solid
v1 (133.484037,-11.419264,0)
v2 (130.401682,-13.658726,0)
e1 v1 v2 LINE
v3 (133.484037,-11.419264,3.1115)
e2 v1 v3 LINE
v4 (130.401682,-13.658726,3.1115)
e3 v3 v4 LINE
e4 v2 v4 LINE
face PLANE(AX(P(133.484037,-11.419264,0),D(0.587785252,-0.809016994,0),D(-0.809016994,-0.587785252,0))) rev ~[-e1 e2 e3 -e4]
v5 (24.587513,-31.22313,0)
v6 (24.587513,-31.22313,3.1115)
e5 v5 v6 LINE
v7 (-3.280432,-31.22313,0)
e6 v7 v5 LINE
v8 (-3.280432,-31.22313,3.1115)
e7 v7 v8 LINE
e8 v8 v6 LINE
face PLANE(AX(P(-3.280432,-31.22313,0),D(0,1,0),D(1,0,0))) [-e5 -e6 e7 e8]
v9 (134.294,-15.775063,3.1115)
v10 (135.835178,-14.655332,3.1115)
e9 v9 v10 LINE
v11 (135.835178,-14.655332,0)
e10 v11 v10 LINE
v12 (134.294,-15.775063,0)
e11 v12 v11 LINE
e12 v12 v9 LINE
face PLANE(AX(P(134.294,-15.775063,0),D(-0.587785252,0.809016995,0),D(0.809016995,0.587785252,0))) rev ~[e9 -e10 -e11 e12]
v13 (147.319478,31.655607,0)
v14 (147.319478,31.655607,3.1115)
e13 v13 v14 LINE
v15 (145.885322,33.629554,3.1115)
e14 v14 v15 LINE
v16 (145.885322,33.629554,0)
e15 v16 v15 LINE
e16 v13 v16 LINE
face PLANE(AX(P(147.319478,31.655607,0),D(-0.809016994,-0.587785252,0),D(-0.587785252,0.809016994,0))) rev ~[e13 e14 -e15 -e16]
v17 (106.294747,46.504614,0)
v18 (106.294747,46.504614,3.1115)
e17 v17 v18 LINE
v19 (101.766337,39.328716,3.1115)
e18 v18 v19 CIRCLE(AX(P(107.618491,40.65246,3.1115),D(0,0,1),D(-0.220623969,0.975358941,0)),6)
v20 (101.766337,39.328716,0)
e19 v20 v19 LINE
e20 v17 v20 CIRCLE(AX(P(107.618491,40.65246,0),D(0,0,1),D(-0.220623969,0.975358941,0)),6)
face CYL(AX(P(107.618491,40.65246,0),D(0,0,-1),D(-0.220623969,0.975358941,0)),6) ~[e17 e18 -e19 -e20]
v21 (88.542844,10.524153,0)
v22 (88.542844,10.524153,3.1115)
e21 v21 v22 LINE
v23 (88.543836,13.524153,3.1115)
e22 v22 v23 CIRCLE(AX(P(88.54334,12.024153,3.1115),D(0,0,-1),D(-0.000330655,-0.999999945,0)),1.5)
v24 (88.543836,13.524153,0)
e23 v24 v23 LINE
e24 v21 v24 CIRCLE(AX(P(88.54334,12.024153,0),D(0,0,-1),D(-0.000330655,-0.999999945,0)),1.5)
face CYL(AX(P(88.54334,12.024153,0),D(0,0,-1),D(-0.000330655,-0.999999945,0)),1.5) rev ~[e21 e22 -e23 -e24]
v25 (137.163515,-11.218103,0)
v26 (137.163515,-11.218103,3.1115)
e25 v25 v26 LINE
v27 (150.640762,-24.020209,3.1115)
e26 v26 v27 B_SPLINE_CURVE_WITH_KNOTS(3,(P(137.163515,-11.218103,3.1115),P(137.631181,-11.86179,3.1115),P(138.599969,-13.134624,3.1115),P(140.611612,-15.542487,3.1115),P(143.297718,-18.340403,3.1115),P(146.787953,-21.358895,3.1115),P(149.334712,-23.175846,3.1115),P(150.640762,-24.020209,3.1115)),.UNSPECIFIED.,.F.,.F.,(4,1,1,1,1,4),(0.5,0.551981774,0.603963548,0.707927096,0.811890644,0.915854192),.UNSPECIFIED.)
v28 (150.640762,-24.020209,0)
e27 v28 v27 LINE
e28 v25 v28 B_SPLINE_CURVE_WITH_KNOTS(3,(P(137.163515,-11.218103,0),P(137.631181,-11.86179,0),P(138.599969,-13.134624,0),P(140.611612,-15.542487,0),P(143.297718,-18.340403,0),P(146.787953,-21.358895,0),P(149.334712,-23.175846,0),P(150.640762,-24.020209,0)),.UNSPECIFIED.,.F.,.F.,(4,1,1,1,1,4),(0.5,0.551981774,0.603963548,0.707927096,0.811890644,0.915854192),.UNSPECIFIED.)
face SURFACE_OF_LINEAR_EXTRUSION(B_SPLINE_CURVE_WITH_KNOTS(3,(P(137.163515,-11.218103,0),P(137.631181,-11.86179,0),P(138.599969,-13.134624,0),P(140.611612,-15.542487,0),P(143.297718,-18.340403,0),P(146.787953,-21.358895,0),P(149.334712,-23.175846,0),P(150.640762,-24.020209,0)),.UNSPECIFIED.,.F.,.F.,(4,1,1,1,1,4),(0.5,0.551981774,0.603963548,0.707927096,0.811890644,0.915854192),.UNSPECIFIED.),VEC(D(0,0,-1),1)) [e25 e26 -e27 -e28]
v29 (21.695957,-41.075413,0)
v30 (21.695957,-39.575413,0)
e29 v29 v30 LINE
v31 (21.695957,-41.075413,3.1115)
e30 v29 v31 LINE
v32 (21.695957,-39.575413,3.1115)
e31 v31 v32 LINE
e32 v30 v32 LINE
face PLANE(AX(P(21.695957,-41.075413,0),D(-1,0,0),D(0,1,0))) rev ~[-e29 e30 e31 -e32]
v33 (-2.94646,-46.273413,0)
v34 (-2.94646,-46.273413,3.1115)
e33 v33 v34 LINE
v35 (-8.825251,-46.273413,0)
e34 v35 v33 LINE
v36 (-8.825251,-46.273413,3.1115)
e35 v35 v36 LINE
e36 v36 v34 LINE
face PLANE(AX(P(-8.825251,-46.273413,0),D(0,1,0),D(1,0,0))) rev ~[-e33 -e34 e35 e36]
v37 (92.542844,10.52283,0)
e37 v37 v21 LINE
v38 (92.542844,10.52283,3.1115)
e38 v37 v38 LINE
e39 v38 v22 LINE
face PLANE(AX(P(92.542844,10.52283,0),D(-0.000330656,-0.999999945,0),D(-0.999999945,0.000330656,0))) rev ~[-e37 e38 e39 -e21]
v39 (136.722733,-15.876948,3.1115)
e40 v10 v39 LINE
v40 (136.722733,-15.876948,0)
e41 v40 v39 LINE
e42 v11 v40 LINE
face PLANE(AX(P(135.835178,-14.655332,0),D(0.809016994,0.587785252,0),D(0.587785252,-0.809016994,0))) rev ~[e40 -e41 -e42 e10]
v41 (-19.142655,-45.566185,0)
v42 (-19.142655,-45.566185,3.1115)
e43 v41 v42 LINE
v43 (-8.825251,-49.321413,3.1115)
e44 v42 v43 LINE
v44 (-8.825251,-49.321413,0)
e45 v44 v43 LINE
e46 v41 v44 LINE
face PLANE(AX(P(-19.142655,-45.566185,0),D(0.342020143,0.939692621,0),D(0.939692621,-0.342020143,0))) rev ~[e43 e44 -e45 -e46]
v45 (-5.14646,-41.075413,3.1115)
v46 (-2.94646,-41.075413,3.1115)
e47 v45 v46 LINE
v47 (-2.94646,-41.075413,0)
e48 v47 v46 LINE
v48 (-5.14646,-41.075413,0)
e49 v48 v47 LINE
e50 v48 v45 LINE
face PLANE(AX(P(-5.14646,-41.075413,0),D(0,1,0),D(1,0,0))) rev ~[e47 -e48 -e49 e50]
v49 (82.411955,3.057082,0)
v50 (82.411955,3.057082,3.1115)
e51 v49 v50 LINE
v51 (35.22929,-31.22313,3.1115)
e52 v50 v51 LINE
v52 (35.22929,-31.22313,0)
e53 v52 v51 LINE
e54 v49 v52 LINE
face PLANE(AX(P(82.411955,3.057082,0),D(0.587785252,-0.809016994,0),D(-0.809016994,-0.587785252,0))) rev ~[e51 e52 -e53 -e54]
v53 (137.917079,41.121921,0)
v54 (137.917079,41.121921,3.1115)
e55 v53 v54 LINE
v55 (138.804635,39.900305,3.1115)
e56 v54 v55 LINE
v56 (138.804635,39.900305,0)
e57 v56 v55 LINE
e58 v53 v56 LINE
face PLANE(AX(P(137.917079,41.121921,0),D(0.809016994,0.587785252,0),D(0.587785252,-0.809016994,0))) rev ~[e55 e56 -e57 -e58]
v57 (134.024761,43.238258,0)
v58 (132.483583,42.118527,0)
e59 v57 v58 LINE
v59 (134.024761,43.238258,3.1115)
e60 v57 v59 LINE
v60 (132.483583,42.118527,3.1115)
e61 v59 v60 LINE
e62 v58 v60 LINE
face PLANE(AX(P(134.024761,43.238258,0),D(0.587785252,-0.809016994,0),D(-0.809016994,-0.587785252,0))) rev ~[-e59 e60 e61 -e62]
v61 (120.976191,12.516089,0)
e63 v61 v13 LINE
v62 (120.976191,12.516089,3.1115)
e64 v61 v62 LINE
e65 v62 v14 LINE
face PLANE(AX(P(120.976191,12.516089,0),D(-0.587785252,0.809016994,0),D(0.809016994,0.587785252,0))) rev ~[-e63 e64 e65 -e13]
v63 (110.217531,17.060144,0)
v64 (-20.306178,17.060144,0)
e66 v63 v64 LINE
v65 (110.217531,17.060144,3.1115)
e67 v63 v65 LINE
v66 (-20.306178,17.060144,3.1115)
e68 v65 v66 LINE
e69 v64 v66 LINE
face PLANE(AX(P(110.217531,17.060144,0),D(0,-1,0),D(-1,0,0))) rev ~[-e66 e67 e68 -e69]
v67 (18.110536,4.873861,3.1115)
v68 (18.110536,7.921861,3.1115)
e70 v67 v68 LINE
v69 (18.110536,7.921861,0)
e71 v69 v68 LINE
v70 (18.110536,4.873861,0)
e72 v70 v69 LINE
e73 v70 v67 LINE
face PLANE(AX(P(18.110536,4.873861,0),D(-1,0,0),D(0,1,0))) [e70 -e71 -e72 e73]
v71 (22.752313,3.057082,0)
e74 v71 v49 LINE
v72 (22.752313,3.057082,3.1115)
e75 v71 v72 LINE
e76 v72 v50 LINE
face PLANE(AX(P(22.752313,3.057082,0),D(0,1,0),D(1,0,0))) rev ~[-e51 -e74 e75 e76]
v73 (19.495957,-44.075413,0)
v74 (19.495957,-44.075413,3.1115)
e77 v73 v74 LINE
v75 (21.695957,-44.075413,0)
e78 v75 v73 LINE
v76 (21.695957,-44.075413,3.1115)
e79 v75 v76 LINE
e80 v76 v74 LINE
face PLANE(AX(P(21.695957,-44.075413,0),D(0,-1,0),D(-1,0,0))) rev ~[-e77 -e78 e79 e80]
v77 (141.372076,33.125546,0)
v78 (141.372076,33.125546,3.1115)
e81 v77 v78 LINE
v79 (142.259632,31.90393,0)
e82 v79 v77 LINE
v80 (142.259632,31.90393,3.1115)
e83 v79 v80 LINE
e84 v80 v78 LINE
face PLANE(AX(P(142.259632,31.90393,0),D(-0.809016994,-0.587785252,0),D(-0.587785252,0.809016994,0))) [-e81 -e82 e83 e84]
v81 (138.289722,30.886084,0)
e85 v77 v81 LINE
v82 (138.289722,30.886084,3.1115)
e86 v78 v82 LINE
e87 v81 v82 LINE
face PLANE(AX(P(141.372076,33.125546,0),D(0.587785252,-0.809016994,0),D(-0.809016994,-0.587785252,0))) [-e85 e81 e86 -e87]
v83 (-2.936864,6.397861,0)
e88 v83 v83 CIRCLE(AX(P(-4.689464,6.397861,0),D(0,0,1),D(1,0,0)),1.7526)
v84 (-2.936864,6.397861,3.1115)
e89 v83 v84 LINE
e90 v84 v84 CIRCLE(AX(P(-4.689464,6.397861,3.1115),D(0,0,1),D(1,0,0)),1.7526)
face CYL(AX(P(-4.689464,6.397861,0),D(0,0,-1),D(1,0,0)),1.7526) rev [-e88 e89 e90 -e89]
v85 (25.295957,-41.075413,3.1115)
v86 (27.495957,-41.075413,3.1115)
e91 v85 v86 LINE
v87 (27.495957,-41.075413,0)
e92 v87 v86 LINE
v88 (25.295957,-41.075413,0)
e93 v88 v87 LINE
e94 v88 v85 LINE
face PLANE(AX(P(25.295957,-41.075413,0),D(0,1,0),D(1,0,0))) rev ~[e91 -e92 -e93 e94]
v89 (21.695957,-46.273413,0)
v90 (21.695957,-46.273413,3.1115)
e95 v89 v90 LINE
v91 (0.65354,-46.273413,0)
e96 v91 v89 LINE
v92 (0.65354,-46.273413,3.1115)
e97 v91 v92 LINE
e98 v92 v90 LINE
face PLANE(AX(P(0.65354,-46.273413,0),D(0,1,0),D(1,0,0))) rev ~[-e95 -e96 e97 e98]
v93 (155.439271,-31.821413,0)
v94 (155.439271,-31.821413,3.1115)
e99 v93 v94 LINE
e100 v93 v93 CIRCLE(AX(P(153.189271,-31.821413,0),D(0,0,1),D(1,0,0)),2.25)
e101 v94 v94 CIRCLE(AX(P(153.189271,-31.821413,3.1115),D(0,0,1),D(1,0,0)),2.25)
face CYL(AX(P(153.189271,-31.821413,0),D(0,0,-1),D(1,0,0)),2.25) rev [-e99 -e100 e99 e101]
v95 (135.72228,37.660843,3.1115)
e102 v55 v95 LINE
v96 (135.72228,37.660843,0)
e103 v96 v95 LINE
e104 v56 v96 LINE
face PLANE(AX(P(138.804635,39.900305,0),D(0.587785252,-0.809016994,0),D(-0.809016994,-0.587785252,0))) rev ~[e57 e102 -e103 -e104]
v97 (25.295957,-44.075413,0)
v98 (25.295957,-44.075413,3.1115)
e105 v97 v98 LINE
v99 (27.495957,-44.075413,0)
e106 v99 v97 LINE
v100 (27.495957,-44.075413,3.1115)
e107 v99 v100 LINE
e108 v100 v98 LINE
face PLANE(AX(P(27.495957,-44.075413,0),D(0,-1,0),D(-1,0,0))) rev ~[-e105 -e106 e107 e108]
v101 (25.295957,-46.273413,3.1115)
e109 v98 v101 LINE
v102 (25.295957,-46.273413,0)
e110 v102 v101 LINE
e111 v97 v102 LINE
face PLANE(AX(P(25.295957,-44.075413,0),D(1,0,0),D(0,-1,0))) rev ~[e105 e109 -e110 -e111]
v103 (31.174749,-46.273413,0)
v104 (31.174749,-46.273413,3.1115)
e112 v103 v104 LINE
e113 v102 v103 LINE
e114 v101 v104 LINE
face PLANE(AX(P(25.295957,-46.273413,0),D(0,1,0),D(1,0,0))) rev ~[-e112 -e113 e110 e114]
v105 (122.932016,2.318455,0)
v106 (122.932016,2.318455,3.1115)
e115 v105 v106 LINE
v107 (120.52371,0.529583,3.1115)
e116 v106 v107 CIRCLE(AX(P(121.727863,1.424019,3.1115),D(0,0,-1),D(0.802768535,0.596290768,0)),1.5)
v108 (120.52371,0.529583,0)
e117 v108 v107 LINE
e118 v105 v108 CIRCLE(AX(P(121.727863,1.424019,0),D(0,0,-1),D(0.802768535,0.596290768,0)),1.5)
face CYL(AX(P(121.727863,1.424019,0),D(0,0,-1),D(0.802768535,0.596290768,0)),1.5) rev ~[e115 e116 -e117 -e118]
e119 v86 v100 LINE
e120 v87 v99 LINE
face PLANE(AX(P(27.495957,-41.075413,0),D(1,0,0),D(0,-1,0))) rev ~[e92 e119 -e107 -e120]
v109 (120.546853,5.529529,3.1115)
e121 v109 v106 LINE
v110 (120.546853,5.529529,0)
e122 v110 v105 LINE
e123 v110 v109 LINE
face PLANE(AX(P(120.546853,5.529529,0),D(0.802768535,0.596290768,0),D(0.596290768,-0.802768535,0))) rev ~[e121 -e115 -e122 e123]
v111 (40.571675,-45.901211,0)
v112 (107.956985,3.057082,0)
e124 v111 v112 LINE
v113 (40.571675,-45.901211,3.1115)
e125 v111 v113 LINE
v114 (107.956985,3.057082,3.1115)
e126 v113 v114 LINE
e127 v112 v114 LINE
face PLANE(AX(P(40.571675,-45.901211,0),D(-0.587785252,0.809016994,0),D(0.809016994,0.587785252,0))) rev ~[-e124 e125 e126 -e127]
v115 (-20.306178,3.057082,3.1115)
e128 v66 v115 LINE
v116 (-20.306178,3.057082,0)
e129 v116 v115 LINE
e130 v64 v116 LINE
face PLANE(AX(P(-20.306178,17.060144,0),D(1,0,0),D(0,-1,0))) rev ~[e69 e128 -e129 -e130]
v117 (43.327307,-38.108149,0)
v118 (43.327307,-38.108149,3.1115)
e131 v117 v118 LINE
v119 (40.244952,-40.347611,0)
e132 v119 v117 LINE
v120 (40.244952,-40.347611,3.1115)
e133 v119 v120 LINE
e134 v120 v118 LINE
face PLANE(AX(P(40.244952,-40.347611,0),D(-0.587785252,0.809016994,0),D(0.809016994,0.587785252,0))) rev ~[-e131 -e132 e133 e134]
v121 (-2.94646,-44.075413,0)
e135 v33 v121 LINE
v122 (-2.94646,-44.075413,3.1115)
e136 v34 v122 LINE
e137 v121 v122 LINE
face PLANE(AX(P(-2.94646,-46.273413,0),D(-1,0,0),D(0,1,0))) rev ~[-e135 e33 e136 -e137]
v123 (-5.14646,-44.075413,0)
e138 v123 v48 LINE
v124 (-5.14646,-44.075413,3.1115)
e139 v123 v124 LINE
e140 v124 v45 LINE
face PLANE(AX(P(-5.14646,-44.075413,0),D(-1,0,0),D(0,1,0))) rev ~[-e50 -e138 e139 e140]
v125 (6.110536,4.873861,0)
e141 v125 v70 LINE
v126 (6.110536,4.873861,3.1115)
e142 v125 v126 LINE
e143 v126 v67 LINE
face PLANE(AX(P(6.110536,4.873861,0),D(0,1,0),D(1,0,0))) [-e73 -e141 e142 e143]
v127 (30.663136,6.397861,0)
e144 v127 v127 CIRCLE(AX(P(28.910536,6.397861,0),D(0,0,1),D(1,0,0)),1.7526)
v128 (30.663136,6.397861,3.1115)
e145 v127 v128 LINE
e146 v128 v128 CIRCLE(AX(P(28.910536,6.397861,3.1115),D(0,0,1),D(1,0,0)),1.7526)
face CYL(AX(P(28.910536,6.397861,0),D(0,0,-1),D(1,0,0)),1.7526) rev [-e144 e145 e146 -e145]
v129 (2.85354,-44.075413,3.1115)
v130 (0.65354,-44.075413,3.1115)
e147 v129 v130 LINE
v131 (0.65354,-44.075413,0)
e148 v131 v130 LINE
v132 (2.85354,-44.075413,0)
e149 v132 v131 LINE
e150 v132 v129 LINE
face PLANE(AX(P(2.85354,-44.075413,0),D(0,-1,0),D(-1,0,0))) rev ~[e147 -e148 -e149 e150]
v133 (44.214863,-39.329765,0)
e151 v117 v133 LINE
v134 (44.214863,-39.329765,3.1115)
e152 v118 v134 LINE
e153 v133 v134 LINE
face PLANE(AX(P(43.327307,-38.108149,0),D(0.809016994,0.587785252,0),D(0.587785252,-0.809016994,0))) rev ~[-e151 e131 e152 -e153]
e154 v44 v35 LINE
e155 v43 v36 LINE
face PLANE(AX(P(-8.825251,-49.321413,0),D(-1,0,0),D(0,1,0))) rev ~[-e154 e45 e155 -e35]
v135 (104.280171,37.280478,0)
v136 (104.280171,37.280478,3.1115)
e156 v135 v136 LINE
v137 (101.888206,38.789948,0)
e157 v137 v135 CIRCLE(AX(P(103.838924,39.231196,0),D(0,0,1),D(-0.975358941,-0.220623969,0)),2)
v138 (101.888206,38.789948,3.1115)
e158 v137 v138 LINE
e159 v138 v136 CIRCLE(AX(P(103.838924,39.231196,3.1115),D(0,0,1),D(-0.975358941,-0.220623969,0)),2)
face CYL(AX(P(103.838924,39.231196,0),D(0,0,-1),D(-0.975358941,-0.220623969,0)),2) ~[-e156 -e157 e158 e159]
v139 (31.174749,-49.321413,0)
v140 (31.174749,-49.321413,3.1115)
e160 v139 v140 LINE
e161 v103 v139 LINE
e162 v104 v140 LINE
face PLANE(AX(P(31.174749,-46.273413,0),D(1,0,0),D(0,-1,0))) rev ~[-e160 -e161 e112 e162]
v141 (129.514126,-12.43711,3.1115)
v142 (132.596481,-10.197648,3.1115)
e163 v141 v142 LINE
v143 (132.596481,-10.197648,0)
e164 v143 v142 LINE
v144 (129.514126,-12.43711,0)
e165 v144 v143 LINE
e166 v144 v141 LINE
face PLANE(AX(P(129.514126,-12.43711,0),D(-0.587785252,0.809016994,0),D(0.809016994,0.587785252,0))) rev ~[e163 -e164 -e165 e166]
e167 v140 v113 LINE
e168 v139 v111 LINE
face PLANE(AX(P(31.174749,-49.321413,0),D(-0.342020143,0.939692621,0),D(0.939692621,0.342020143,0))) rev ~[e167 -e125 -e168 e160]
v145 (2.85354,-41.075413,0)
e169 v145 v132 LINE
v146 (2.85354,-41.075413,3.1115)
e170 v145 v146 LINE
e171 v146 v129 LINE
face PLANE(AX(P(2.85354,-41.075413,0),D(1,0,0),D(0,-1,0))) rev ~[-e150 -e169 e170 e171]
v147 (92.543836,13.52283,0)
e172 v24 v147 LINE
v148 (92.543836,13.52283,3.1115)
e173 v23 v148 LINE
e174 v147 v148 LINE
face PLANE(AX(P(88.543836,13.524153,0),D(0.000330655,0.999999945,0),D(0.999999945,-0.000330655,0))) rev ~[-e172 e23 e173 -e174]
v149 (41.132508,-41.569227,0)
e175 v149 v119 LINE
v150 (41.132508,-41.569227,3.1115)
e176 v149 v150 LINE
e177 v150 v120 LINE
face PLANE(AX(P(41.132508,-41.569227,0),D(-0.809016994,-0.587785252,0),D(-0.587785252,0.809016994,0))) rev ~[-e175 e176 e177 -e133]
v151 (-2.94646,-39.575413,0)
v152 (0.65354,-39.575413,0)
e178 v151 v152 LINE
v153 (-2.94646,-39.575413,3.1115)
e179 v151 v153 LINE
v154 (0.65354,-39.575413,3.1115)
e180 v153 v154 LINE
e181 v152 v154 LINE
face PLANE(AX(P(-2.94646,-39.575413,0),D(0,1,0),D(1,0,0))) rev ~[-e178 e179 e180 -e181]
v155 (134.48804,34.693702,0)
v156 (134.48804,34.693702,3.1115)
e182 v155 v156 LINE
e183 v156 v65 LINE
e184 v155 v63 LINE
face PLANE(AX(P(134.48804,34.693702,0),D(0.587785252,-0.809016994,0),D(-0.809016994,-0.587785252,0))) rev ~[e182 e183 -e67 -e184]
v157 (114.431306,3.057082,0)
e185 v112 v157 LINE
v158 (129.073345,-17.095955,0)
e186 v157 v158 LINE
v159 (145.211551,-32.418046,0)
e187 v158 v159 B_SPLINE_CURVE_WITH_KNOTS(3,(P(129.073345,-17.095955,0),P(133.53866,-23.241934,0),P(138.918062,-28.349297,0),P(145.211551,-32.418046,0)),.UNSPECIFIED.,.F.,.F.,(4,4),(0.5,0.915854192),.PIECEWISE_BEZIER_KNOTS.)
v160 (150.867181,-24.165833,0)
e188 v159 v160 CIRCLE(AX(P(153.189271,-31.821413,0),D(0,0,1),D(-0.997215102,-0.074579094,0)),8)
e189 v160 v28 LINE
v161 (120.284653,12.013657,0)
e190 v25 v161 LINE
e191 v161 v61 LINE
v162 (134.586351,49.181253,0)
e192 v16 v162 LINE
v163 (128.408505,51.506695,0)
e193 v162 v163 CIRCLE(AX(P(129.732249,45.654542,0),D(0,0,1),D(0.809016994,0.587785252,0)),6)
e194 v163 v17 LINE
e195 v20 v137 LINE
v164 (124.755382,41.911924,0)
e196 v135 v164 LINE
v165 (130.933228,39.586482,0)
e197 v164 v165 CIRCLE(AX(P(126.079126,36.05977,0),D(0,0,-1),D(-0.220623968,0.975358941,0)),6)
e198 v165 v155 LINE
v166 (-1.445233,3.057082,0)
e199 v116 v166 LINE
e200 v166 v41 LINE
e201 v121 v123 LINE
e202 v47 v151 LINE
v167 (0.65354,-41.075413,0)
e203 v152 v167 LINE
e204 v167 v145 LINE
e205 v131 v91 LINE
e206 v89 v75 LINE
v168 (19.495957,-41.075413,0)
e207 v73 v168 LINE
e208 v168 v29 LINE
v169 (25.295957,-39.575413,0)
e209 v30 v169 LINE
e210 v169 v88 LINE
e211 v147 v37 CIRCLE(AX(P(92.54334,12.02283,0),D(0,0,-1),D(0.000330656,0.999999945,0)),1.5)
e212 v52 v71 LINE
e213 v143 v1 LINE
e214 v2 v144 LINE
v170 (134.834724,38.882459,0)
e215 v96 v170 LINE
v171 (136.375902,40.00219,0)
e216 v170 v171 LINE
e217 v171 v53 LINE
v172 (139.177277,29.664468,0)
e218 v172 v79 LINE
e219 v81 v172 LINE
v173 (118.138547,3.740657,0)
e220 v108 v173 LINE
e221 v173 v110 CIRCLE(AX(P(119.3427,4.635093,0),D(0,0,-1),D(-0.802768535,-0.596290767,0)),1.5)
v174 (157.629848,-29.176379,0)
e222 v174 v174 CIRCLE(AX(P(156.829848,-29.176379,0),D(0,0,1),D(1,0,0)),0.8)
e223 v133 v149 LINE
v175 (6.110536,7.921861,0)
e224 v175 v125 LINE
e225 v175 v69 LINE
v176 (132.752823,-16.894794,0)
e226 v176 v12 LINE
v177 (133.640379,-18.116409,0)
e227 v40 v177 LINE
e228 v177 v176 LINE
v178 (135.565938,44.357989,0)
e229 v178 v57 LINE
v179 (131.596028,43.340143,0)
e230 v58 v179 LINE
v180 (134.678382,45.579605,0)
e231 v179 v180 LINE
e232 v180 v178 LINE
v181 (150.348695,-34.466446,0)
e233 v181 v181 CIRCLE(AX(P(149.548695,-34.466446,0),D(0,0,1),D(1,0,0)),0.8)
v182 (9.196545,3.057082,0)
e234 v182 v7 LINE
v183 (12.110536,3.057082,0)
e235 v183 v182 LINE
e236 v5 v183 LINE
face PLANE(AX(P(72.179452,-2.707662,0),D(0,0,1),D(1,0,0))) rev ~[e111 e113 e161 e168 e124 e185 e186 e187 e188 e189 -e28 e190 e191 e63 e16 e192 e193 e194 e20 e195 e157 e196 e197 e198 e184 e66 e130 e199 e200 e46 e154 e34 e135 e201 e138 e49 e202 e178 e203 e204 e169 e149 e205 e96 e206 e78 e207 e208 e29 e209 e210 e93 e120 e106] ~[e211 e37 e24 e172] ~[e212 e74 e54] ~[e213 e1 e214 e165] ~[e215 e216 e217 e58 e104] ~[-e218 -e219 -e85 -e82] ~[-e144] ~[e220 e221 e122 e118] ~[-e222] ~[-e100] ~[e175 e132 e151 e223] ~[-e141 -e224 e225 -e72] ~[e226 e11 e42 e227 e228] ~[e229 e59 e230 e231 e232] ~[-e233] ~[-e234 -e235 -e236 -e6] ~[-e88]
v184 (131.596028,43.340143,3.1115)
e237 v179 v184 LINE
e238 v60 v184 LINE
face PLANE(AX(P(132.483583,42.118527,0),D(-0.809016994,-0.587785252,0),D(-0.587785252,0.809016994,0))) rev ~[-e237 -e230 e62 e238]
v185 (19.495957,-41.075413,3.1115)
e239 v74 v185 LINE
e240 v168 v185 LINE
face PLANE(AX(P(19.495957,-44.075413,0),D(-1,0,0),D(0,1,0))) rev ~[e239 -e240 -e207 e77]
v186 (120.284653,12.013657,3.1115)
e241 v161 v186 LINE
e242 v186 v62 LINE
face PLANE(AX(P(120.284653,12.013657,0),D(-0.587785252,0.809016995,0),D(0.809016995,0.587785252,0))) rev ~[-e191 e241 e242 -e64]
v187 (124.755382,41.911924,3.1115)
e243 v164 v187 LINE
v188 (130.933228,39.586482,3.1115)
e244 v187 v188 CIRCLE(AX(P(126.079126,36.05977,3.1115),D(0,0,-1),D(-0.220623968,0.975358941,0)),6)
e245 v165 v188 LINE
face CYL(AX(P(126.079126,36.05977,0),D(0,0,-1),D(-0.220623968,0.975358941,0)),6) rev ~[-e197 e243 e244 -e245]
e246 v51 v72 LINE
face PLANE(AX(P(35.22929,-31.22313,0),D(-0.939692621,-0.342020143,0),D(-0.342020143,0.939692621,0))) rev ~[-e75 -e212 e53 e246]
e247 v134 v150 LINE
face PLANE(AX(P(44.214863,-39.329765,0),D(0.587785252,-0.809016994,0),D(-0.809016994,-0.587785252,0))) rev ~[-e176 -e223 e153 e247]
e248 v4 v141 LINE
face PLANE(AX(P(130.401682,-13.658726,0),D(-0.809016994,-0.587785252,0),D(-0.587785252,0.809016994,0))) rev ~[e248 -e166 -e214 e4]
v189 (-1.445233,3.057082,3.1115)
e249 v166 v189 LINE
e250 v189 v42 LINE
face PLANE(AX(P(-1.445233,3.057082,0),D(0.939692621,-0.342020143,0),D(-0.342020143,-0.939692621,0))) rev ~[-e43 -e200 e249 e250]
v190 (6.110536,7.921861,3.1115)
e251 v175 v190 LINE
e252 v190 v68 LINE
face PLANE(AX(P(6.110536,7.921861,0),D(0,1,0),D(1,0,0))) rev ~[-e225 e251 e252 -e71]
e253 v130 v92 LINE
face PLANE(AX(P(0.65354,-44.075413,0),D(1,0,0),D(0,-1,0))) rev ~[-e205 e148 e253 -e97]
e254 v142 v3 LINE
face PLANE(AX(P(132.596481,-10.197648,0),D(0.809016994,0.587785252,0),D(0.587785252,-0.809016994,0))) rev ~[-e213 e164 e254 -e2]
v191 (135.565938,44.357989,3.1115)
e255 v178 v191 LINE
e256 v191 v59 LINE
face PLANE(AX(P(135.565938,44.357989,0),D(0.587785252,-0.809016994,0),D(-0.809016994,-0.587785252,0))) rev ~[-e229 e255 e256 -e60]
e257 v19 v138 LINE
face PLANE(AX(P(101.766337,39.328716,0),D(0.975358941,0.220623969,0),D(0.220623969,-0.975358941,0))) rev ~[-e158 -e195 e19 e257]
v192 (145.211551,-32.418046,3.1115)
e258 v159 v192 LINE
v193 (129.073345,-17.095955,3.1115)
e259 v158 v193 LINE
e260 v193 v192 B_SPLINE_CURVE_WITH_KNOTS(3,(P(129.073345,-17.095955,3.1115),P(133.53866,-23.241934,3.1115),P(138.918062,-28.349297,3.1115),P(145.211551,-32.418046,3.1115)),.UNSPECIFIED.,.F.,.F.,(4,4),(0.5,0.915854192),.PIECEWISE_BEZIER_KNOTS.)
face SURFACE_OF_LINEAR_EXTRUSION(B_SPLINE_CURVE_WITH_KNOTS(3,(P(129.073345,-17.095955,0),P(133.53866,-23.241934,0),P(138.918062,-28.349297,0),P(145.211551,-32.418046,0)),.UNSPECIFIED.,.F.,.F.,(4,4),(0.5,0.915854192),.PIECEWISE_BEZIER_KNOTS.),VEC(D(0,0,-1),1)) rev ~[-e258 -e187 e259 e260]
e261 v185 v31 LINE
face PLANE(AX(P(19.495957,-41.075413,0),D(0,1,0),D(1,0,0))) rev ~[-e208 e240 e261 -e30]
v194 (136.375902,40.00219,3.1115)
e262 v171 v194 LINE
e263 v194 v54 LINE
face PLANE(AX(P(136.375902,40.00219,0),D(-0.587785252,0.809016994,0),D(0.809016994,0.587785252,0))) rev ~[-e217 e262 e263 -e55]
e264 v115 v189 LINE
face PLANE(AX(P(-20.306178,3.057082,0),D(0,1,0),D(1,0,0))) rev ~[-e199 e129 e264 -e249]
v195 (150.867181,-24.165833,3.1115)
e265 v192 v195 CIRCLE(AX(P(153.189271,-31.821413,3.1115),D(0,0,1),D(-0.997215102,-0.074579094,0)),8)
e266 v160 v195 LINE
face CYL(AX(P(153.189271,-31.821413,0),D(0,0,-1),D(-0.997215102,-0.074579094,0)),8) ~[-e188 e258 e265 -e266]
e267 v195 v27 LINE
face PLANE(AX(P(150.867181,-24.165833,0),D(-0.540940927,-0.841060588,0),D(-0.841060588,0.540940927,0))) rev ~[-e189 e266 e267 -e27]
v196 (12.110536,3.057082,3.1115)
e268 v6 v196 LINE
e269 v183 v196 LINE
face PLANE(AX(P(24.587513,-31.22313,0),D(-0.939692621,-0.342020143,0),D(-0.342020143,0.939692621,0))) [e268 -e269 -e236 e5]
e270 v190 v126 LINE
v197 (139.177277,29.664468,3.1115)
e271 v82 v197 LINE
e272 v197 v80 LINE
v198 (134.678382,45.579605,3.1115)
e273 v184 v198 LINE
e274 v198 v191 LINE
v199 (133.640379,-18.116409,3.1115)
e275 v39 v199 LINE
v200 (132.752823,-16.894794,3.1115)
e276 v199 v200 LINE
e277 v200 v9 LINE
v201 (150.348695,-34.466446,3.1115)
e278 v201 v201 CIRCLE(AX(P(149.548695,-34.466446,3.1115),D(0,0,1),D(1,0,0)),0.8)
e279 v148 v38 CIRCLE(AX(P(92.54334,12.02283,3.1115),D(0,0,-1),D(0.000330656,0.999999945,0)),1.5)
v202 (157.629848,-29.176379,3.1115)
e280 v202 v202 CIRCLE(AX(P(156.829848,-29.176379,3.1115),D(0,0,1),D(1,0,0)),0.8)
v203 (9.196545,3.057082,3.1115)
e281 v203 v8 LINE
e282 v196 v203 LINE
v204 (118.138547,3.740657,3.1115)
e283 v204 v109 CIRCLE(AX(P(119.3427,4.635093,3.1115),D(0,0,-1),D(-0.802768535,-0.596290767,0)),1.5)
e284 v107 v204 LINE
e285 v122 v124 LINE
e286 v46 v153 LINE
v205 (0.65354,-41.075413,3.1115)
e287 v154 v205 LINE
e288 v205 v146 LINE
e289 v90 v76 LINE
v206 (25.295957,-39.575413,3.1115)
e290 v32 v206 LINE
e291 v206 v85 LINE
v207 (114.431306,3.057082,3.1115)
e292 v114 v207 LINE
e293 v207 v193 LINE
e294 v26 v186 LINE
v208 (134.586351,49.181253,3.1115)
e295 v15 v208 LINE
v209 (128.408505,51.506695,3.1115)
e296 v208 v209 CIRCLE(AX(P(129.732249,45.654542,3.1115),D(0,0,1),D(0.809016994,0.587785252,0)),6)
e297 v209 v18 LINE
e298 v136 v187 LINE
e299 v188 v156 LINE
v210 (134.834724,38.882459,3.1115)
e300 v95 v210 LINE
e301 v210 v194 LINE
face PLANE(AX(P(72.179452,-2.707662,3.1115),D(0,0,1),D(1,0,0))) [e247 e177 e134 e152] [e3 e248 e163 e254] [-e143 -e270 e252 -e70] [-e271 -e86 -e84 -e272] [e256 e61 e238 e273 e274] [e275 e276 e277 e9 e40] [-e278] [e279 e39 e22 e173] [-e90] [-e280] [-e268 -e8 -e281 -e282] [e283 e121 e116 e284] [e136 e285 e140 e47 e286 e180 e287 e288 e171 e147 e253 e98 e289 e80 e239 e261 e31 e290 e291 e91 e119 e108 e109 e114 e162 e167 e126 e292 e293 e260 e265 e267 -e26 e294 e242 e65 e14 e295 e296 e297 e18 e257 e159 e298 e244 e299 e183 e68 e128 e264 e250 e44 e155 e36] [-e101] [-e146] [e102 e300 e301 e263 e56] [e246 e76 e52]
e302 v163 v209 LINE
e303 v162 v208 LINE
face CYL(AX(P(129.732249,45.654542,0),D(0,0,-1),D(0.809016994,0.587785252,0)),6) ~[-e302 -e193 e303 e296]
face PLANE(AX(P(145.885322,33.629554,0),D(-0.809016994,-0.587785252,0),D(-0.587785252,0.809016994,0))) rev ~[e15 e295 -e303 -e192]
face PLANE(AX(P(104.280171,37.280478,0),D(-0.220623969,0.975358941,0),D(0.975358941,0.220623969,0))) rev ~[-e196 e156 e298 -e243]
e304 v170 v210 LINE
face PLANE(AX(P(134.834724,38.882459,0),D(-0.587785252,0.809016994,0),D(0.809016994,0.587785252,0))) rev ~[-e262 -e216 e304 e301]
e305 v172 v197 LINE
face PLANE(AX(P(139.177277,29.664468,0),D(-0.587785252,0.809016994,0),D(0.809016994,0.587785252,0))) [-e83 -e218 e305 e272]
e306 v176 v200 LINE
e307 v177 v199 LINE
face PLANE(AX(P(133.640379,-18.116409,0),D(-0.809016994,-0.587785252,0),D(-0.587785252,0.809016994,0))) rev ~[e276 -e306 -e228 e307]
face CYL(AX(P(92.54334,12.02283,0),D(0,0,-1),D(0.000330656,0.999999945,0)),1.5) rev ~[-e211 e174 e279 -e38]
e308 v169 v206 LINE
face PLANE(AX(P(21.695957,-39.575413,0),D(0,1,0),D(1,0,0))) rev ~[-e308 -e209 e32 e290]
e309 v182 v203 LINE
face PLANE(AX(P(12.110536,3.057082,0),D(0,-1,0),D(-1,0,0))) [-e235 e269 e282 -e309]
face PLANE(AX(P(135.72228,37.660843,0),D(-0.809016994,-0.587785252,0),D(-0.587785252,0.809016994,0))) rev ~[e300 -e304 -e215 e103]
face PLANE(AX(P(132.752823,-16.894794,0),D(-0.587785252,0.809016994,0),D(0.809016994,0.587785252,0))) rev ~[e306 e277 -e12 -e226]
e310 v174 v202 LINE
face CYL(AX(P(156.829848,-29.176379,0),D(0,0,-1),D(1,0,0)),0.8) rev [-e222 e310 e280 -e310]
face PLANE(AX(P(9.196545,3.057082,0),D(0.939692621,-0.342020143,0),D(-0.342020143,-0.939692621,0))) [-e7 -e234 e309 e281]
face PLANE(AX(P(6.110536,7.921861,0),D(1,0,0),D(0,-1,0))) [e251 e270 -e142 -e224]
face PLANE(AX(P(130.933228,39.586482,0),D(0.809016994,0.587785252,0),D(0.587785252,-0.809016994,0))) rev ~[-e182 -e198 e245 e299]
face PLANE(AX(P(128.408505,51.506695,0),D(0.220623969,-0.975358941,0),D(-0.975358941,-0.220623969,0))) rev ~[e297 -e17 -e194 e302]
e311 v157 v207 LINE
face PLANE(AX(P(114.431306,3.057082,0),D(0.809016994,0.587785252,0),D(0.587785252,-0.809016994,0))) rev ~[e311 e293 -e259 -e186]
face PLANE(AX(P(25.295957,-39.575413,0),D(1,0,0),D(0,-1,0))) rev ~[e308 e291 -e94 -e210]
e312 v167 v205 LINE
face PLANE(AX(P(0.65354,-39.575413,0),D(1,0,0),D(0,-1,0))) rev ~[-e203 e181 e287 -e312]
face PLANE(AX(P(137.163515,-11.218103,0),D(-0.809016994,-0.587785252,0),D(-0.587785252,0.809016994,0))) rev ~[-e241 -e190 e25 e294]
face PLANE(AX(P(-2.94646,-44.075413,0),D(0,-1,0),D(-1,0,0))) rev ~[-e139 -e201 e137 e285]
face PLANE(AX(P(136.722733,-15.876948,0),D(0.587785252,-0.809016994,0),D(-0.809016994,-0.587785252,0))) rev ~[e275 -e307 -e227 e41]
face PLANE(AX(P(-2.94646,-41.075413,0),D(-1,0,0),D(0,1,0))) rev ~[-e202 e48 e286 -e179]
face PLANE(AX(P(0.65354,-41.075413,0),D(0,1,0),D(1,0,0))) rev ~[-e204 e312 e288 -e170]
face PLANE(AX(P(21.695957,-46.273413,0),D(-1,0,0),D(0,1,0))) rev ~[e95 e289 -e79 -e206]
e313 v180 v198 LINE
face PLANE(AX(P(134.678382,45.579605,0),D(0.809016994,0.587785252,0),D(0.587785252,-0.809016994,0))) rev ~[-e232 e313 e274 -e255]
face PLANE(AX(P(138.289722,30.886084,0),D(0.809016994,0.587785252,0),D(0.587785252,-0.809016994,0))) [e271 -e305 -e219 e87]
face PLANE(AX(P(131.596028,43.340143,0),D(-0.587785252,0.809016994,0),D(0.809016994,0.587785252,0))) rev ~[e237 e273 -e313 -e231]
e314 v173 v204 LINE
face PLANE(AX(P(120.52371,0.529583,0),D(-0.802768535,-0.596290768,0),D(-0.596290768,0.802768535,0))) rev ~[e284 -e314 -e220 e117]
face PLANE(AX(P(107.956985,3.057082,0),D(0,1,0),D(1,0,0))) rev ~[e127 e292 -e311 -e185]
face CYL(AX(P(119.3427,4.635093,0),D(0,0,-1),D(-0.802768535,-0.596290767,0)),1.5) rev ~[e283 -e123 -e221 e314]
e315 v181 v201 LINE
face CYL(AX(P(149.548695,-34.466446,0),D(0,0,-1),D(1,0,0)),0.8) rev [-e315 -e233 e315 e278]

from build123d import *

# Parameters (mm, degrees)
SKETCH1_R           = 2.25
SKETCH1_R_2         = 0.8
SKETCH1_R_3         = 1.7526
BOSS_EXTRUDE1_DEPTH = 3.1115


with BuildPart() as part:
    # Sketch1 → Boss-Extrude1 (new body)
    with BuildSketch(Plane.XY):
        with BuildLine():
            Line((40.571674968, -45.901211355), (107.95698504, 3.057082175))
            Line((107.95698504, 3.057082175), (114.431306158, 3.057082175))
            Line((114.431306158, 3.057082175), (129.0733448, -17.095955091))
            add(Edge.make_bspline(
                [(129.0733448, -17.095955091), (133.53865967, -23.241933746), (138.918061624, -28.349297229), (145.211550663, -32.41804554)],
                knots=[0.5, 0.5, 0.5, 0.5, 0.915854192, 0.915854192, 0.915854192, 0.915854192], degree=3))
            ThreePointArc((145.211550663, -32.41804554), (159.788231987, -36.343991717), (150.867180903, -24.165833426))
            Line((150.867180903, -24.165833426), (150.640762289, -24.020208846))
            add(Edge.make_bspline(
                [(137.163514743, -11.218102568), (137.631181225, -11.861790257), (138.599969423, -13.134624479), (140.611611711, -15.54248749), (143.29771775, -18.340403293), (146.787953317, -21.358895338), (149.334712498, -23.17584607), (150.640762289, -24.020208846)],
                knots=[0.5, 0.5, 0.5, 0.5, 0.551981774, 0.603963548, 0.707927096, 0.811890644, 0.915854192, 0.915854192, 0.915854192, 0.915854192], degree=3))
            Line((137.163514743, -11.218102568), (120.284653169, 12.013657342))
            Line((120.284653169, 12.013657342), (120.976190903, 12.516088915))
            Line((120.976190903, 12.516088915), (147.319477841, 31.655607203))
            Line((147.319477841, 31.655607203), (145.885321673, 33.629553824))
            Line((145.885321673, 33.629553824), (134.586350681, 49.181253217))
            ThreePointArc((134.586350681, 49.181253217), (131.845960487, 51.269897662), (128.408504904, 51.506695351))
            Line((128.408504904, 51.506695351), (106.294747249, 46.504613793))
            ThreePointArc((106.294747249, 46.504613793), (102.544365306, 43.854529448), (101.766337412, 39.328716333))
            Line((101.766337412, 39.328716333), (101.888205656, 38.789947666))
            ThreePointArc((101.888205656, 38.789947666), (102.771567105, 37.539820352), (104.280171476, 37.280477721))
            Line((104.280171476, 37.280477721), (124.755382254, 41.911923712))
            ThreePointArc((124.755382254, 41.911923712), (128.192837837, 41.675126022), (130.933228031, 39.586481577))
            Line((130.933228031, 39.586481577), (134.488040457, 34.693702023))
            Line((134.488040457, 34.693702023), (110.217530626, 17.060144455))
            Line((110.217530626, 17.060144455), (34.693822445, 17.060144455))
            Line((34.693822445, 17.060144455), (-20.306177555, 17.060144455))
            Line((-20.306177555, 17.060144455), (-20.306177555, 7.060144459))
            Line((-20.306177555, 7.060144459), (-20.306177555, 3.057082175))
            Line((-20.306177555, 3.057082175), (-1.445233082, 3.057082175))
            Line((-1.445233082, 3.057082175), (-19.142654999, -45.566184926))
            Line((-19.142654999, -45.566184926), (-8.82525124, -49.321412789))
            Line((-8.82525124, -49.321412789), (-8.82525124, -46.273412789))
            Line((-8.82525124, -46.273412789), (-2.94645984, -46.273412789))
            Line((-2.94645984, -46.273412789), (-2.94645984, -44.075412789))
            Line((-2.94645984, -44.075412789), (-5.14645984, -44.075412789))
            Line((-5.14645984, -44.075412789), (-5.14645984, -41.075412789))
            Line((-5.14645984, -41.075412789), (-2.94645984, -41.075412789))
            Line((-2.94645984, -41.075412789), (-2.94645984, -39.575412789))
            Line((-2.94645984, -39.575412789), (0.65354016, -39.575412789))
            Line((0.65354016, -39.575412789), (0.65354016, -41.075412789))
            Line((0.65354016, -41.075412789), (2.85354016, -41.075412789))
            Line((2.85354016, -41.075412789), (2.85354016, -44.075412789))
            Line((2.85354016, -44.075412789), (0.65354016, -44.075412789))
            Line((0.65354016, -44.075412789), (0.65354016, -46.273412789))
            Line((0.65354016, -46.273412789), (21.695957359, -46.273412789))
            Line((21.695957359, -46.273412789), (21.695957359, -44.075412789))
            Line((21.695957359, -44.075412789), (19.495957359, -44.075412789))
            Line((19.495957359, -44.075412789), (19.495957359, -41.075412789))
            Line((19.495957359, -41.075412789), (21.695957359, -41.075412789))
            Line((21.695957359, -41.075412789), (21.695957359, -39.575412789))
            Line((21.695957359, -39.575412789), (25.295957359, -39.575412789))
            Line((25.295957359, -39.575412789), (25.295957359, -41.075412789))
            Line((25.295957359, -41.075412789), (27.495957359, -41.075412789))
            Line((27.495957359, -41.075412789), (27.495957359, -44.075412789))
            Line((27.495957359, -44.075412789), (25.295957359, -44.075412789))
            Line((25.295957359, -44.075412789), (25.295957359, -46.273412789))
            Line((25.295957359, -46.273412789), (31.17474876, -46.273412789))
            Line((31.17474876, -46.273412789), (31.17474876, -49.321412789))
            Line((31.17474876, -49.321412789), (40.571674968, -45.901211355))
        make_face()
        with Locations((153.189271476, -31.821412789)):
            Circle(SKETCH1_R, mode=Mode.SUBTRACT)
        with Locations((156.829847951, -29.176379153)):
            Circle(SKETCH1_R_2, mode=Mode.SUBTRACT)
        with Locations((149.548695001, -34.466446424)):
            Circle(SKETCH1_R_2, mode=Mode.SUBTRACT)
        with Locations((-4.689464322, 6.397861115)):
            Circle(SKETCH1_R_3, mode=Mode.SUBTRACT)
        with Locations((28.910535678, 6.397861115)):
            Circle(SKETCH1_R_3, mode=Mode.SUBTRACT)
        Polygon((22.752313402, 3.057082175), (82.411954897, 3.057082175), (35.229290336, -31.223130213), align=None, mode=Mode.SUBTRACT)
        Polygon((24.587512611, -31.223130213), (12.110535678, 3.057082175), (9.196544643, 3.057082175), (-3.28043229, -31.223130213), align=None, mode=Mode.SUBTRACT)
        with BuildLine():
            Line((88.543835939, 13.524152696), (92.543835721, 13.522830074))
            ThreePointArc((92.543835721, 13.522830074), (94.043339655, 12.022334173), (92.542843754, 10.522830238))
            Line((92.542843754, 10.522830238), (88.542843973, 10.52415286))
            ThreePointArc((88.542843973, 10.52415286), (87.043340038, 12.024648761), (88.543835939, 13.524152696))
        make_face(mode=Mode.SUBTRACT)
        with BuildLine():
            Line((120.546853002, 5.529529102), (122.932016073, 2.318454963))
            ThreePointArc((122.932016073, 2.318454963), (122.622299423, 0.21986601), (120.523710469, 0.52958266))
            Line((120.523710469, 0.52958266), (118.138547398, 3.740656799))
            ThreePointArc((118.138547398, 3.740656799), (118.448264049, 5.839245752), (120.546853002, 5.529529102))
        make_face(mode=Mode.SUBTRACT)
        Polygon((131.942859267, -12.538994841), (130.401681893, -13.658725747), (129.514126162, -12.437110085), (132.59648091, -10.197648274), (133.484036641, -11.419263935), align=None, mode=Mode.SUBTRACT)
        Polygon((134.294000276, -15.775062818), (135.835177651, -14.655331913), (136.722733382, -15.876947574), (133.640378633, -18.116409385), (132.752822902, -16.894793724), align=None, mode=Mode.SUBTRACT)
        Polygon((138.289721592, 30.886083745), (139.177277323, 29.664468084), (142.259632072, 31.903929895), (141.372076341, 33.125545557), align=None, mode=Mode.SUBTRACT)
        Polygon((40.244952044, -40.34761098), (43.327306792, -38.108149169), (44.214862523, -39.32976483), (41.132507775, -41.569226641), align=None, mode=Mode.SUBTRACT)
        Polygon((134.024760687, 43.238257986), (132.483583313, 42.118527081), (131.596027582, 43.340142742), (134.67838233, 45.579604554), (135.565938061, 44.357988892), align=None, mode=Mode.SUBTRACT)
        Polygon((136.375901696, 40.002190009), (137.917079071, 41.121920915), (138.804634802, 39.900305253), (135.722280053, 37.660843442), (134.834724322, 38.882459103), align=None, mode=Mode.SUBTRACT)
        Polygon((6.110535678, 4.873861115), (18.110535678, 4.873861115), (18.110535678, 7.921861115), (12.110535678, 7.921861115), (6.110535678, 7.921861115), align=None, mode=Mode.SUBTRACT)
    extrude(amount=BOSS_EXTRUDE1_DEPTH)


solid = part.part
